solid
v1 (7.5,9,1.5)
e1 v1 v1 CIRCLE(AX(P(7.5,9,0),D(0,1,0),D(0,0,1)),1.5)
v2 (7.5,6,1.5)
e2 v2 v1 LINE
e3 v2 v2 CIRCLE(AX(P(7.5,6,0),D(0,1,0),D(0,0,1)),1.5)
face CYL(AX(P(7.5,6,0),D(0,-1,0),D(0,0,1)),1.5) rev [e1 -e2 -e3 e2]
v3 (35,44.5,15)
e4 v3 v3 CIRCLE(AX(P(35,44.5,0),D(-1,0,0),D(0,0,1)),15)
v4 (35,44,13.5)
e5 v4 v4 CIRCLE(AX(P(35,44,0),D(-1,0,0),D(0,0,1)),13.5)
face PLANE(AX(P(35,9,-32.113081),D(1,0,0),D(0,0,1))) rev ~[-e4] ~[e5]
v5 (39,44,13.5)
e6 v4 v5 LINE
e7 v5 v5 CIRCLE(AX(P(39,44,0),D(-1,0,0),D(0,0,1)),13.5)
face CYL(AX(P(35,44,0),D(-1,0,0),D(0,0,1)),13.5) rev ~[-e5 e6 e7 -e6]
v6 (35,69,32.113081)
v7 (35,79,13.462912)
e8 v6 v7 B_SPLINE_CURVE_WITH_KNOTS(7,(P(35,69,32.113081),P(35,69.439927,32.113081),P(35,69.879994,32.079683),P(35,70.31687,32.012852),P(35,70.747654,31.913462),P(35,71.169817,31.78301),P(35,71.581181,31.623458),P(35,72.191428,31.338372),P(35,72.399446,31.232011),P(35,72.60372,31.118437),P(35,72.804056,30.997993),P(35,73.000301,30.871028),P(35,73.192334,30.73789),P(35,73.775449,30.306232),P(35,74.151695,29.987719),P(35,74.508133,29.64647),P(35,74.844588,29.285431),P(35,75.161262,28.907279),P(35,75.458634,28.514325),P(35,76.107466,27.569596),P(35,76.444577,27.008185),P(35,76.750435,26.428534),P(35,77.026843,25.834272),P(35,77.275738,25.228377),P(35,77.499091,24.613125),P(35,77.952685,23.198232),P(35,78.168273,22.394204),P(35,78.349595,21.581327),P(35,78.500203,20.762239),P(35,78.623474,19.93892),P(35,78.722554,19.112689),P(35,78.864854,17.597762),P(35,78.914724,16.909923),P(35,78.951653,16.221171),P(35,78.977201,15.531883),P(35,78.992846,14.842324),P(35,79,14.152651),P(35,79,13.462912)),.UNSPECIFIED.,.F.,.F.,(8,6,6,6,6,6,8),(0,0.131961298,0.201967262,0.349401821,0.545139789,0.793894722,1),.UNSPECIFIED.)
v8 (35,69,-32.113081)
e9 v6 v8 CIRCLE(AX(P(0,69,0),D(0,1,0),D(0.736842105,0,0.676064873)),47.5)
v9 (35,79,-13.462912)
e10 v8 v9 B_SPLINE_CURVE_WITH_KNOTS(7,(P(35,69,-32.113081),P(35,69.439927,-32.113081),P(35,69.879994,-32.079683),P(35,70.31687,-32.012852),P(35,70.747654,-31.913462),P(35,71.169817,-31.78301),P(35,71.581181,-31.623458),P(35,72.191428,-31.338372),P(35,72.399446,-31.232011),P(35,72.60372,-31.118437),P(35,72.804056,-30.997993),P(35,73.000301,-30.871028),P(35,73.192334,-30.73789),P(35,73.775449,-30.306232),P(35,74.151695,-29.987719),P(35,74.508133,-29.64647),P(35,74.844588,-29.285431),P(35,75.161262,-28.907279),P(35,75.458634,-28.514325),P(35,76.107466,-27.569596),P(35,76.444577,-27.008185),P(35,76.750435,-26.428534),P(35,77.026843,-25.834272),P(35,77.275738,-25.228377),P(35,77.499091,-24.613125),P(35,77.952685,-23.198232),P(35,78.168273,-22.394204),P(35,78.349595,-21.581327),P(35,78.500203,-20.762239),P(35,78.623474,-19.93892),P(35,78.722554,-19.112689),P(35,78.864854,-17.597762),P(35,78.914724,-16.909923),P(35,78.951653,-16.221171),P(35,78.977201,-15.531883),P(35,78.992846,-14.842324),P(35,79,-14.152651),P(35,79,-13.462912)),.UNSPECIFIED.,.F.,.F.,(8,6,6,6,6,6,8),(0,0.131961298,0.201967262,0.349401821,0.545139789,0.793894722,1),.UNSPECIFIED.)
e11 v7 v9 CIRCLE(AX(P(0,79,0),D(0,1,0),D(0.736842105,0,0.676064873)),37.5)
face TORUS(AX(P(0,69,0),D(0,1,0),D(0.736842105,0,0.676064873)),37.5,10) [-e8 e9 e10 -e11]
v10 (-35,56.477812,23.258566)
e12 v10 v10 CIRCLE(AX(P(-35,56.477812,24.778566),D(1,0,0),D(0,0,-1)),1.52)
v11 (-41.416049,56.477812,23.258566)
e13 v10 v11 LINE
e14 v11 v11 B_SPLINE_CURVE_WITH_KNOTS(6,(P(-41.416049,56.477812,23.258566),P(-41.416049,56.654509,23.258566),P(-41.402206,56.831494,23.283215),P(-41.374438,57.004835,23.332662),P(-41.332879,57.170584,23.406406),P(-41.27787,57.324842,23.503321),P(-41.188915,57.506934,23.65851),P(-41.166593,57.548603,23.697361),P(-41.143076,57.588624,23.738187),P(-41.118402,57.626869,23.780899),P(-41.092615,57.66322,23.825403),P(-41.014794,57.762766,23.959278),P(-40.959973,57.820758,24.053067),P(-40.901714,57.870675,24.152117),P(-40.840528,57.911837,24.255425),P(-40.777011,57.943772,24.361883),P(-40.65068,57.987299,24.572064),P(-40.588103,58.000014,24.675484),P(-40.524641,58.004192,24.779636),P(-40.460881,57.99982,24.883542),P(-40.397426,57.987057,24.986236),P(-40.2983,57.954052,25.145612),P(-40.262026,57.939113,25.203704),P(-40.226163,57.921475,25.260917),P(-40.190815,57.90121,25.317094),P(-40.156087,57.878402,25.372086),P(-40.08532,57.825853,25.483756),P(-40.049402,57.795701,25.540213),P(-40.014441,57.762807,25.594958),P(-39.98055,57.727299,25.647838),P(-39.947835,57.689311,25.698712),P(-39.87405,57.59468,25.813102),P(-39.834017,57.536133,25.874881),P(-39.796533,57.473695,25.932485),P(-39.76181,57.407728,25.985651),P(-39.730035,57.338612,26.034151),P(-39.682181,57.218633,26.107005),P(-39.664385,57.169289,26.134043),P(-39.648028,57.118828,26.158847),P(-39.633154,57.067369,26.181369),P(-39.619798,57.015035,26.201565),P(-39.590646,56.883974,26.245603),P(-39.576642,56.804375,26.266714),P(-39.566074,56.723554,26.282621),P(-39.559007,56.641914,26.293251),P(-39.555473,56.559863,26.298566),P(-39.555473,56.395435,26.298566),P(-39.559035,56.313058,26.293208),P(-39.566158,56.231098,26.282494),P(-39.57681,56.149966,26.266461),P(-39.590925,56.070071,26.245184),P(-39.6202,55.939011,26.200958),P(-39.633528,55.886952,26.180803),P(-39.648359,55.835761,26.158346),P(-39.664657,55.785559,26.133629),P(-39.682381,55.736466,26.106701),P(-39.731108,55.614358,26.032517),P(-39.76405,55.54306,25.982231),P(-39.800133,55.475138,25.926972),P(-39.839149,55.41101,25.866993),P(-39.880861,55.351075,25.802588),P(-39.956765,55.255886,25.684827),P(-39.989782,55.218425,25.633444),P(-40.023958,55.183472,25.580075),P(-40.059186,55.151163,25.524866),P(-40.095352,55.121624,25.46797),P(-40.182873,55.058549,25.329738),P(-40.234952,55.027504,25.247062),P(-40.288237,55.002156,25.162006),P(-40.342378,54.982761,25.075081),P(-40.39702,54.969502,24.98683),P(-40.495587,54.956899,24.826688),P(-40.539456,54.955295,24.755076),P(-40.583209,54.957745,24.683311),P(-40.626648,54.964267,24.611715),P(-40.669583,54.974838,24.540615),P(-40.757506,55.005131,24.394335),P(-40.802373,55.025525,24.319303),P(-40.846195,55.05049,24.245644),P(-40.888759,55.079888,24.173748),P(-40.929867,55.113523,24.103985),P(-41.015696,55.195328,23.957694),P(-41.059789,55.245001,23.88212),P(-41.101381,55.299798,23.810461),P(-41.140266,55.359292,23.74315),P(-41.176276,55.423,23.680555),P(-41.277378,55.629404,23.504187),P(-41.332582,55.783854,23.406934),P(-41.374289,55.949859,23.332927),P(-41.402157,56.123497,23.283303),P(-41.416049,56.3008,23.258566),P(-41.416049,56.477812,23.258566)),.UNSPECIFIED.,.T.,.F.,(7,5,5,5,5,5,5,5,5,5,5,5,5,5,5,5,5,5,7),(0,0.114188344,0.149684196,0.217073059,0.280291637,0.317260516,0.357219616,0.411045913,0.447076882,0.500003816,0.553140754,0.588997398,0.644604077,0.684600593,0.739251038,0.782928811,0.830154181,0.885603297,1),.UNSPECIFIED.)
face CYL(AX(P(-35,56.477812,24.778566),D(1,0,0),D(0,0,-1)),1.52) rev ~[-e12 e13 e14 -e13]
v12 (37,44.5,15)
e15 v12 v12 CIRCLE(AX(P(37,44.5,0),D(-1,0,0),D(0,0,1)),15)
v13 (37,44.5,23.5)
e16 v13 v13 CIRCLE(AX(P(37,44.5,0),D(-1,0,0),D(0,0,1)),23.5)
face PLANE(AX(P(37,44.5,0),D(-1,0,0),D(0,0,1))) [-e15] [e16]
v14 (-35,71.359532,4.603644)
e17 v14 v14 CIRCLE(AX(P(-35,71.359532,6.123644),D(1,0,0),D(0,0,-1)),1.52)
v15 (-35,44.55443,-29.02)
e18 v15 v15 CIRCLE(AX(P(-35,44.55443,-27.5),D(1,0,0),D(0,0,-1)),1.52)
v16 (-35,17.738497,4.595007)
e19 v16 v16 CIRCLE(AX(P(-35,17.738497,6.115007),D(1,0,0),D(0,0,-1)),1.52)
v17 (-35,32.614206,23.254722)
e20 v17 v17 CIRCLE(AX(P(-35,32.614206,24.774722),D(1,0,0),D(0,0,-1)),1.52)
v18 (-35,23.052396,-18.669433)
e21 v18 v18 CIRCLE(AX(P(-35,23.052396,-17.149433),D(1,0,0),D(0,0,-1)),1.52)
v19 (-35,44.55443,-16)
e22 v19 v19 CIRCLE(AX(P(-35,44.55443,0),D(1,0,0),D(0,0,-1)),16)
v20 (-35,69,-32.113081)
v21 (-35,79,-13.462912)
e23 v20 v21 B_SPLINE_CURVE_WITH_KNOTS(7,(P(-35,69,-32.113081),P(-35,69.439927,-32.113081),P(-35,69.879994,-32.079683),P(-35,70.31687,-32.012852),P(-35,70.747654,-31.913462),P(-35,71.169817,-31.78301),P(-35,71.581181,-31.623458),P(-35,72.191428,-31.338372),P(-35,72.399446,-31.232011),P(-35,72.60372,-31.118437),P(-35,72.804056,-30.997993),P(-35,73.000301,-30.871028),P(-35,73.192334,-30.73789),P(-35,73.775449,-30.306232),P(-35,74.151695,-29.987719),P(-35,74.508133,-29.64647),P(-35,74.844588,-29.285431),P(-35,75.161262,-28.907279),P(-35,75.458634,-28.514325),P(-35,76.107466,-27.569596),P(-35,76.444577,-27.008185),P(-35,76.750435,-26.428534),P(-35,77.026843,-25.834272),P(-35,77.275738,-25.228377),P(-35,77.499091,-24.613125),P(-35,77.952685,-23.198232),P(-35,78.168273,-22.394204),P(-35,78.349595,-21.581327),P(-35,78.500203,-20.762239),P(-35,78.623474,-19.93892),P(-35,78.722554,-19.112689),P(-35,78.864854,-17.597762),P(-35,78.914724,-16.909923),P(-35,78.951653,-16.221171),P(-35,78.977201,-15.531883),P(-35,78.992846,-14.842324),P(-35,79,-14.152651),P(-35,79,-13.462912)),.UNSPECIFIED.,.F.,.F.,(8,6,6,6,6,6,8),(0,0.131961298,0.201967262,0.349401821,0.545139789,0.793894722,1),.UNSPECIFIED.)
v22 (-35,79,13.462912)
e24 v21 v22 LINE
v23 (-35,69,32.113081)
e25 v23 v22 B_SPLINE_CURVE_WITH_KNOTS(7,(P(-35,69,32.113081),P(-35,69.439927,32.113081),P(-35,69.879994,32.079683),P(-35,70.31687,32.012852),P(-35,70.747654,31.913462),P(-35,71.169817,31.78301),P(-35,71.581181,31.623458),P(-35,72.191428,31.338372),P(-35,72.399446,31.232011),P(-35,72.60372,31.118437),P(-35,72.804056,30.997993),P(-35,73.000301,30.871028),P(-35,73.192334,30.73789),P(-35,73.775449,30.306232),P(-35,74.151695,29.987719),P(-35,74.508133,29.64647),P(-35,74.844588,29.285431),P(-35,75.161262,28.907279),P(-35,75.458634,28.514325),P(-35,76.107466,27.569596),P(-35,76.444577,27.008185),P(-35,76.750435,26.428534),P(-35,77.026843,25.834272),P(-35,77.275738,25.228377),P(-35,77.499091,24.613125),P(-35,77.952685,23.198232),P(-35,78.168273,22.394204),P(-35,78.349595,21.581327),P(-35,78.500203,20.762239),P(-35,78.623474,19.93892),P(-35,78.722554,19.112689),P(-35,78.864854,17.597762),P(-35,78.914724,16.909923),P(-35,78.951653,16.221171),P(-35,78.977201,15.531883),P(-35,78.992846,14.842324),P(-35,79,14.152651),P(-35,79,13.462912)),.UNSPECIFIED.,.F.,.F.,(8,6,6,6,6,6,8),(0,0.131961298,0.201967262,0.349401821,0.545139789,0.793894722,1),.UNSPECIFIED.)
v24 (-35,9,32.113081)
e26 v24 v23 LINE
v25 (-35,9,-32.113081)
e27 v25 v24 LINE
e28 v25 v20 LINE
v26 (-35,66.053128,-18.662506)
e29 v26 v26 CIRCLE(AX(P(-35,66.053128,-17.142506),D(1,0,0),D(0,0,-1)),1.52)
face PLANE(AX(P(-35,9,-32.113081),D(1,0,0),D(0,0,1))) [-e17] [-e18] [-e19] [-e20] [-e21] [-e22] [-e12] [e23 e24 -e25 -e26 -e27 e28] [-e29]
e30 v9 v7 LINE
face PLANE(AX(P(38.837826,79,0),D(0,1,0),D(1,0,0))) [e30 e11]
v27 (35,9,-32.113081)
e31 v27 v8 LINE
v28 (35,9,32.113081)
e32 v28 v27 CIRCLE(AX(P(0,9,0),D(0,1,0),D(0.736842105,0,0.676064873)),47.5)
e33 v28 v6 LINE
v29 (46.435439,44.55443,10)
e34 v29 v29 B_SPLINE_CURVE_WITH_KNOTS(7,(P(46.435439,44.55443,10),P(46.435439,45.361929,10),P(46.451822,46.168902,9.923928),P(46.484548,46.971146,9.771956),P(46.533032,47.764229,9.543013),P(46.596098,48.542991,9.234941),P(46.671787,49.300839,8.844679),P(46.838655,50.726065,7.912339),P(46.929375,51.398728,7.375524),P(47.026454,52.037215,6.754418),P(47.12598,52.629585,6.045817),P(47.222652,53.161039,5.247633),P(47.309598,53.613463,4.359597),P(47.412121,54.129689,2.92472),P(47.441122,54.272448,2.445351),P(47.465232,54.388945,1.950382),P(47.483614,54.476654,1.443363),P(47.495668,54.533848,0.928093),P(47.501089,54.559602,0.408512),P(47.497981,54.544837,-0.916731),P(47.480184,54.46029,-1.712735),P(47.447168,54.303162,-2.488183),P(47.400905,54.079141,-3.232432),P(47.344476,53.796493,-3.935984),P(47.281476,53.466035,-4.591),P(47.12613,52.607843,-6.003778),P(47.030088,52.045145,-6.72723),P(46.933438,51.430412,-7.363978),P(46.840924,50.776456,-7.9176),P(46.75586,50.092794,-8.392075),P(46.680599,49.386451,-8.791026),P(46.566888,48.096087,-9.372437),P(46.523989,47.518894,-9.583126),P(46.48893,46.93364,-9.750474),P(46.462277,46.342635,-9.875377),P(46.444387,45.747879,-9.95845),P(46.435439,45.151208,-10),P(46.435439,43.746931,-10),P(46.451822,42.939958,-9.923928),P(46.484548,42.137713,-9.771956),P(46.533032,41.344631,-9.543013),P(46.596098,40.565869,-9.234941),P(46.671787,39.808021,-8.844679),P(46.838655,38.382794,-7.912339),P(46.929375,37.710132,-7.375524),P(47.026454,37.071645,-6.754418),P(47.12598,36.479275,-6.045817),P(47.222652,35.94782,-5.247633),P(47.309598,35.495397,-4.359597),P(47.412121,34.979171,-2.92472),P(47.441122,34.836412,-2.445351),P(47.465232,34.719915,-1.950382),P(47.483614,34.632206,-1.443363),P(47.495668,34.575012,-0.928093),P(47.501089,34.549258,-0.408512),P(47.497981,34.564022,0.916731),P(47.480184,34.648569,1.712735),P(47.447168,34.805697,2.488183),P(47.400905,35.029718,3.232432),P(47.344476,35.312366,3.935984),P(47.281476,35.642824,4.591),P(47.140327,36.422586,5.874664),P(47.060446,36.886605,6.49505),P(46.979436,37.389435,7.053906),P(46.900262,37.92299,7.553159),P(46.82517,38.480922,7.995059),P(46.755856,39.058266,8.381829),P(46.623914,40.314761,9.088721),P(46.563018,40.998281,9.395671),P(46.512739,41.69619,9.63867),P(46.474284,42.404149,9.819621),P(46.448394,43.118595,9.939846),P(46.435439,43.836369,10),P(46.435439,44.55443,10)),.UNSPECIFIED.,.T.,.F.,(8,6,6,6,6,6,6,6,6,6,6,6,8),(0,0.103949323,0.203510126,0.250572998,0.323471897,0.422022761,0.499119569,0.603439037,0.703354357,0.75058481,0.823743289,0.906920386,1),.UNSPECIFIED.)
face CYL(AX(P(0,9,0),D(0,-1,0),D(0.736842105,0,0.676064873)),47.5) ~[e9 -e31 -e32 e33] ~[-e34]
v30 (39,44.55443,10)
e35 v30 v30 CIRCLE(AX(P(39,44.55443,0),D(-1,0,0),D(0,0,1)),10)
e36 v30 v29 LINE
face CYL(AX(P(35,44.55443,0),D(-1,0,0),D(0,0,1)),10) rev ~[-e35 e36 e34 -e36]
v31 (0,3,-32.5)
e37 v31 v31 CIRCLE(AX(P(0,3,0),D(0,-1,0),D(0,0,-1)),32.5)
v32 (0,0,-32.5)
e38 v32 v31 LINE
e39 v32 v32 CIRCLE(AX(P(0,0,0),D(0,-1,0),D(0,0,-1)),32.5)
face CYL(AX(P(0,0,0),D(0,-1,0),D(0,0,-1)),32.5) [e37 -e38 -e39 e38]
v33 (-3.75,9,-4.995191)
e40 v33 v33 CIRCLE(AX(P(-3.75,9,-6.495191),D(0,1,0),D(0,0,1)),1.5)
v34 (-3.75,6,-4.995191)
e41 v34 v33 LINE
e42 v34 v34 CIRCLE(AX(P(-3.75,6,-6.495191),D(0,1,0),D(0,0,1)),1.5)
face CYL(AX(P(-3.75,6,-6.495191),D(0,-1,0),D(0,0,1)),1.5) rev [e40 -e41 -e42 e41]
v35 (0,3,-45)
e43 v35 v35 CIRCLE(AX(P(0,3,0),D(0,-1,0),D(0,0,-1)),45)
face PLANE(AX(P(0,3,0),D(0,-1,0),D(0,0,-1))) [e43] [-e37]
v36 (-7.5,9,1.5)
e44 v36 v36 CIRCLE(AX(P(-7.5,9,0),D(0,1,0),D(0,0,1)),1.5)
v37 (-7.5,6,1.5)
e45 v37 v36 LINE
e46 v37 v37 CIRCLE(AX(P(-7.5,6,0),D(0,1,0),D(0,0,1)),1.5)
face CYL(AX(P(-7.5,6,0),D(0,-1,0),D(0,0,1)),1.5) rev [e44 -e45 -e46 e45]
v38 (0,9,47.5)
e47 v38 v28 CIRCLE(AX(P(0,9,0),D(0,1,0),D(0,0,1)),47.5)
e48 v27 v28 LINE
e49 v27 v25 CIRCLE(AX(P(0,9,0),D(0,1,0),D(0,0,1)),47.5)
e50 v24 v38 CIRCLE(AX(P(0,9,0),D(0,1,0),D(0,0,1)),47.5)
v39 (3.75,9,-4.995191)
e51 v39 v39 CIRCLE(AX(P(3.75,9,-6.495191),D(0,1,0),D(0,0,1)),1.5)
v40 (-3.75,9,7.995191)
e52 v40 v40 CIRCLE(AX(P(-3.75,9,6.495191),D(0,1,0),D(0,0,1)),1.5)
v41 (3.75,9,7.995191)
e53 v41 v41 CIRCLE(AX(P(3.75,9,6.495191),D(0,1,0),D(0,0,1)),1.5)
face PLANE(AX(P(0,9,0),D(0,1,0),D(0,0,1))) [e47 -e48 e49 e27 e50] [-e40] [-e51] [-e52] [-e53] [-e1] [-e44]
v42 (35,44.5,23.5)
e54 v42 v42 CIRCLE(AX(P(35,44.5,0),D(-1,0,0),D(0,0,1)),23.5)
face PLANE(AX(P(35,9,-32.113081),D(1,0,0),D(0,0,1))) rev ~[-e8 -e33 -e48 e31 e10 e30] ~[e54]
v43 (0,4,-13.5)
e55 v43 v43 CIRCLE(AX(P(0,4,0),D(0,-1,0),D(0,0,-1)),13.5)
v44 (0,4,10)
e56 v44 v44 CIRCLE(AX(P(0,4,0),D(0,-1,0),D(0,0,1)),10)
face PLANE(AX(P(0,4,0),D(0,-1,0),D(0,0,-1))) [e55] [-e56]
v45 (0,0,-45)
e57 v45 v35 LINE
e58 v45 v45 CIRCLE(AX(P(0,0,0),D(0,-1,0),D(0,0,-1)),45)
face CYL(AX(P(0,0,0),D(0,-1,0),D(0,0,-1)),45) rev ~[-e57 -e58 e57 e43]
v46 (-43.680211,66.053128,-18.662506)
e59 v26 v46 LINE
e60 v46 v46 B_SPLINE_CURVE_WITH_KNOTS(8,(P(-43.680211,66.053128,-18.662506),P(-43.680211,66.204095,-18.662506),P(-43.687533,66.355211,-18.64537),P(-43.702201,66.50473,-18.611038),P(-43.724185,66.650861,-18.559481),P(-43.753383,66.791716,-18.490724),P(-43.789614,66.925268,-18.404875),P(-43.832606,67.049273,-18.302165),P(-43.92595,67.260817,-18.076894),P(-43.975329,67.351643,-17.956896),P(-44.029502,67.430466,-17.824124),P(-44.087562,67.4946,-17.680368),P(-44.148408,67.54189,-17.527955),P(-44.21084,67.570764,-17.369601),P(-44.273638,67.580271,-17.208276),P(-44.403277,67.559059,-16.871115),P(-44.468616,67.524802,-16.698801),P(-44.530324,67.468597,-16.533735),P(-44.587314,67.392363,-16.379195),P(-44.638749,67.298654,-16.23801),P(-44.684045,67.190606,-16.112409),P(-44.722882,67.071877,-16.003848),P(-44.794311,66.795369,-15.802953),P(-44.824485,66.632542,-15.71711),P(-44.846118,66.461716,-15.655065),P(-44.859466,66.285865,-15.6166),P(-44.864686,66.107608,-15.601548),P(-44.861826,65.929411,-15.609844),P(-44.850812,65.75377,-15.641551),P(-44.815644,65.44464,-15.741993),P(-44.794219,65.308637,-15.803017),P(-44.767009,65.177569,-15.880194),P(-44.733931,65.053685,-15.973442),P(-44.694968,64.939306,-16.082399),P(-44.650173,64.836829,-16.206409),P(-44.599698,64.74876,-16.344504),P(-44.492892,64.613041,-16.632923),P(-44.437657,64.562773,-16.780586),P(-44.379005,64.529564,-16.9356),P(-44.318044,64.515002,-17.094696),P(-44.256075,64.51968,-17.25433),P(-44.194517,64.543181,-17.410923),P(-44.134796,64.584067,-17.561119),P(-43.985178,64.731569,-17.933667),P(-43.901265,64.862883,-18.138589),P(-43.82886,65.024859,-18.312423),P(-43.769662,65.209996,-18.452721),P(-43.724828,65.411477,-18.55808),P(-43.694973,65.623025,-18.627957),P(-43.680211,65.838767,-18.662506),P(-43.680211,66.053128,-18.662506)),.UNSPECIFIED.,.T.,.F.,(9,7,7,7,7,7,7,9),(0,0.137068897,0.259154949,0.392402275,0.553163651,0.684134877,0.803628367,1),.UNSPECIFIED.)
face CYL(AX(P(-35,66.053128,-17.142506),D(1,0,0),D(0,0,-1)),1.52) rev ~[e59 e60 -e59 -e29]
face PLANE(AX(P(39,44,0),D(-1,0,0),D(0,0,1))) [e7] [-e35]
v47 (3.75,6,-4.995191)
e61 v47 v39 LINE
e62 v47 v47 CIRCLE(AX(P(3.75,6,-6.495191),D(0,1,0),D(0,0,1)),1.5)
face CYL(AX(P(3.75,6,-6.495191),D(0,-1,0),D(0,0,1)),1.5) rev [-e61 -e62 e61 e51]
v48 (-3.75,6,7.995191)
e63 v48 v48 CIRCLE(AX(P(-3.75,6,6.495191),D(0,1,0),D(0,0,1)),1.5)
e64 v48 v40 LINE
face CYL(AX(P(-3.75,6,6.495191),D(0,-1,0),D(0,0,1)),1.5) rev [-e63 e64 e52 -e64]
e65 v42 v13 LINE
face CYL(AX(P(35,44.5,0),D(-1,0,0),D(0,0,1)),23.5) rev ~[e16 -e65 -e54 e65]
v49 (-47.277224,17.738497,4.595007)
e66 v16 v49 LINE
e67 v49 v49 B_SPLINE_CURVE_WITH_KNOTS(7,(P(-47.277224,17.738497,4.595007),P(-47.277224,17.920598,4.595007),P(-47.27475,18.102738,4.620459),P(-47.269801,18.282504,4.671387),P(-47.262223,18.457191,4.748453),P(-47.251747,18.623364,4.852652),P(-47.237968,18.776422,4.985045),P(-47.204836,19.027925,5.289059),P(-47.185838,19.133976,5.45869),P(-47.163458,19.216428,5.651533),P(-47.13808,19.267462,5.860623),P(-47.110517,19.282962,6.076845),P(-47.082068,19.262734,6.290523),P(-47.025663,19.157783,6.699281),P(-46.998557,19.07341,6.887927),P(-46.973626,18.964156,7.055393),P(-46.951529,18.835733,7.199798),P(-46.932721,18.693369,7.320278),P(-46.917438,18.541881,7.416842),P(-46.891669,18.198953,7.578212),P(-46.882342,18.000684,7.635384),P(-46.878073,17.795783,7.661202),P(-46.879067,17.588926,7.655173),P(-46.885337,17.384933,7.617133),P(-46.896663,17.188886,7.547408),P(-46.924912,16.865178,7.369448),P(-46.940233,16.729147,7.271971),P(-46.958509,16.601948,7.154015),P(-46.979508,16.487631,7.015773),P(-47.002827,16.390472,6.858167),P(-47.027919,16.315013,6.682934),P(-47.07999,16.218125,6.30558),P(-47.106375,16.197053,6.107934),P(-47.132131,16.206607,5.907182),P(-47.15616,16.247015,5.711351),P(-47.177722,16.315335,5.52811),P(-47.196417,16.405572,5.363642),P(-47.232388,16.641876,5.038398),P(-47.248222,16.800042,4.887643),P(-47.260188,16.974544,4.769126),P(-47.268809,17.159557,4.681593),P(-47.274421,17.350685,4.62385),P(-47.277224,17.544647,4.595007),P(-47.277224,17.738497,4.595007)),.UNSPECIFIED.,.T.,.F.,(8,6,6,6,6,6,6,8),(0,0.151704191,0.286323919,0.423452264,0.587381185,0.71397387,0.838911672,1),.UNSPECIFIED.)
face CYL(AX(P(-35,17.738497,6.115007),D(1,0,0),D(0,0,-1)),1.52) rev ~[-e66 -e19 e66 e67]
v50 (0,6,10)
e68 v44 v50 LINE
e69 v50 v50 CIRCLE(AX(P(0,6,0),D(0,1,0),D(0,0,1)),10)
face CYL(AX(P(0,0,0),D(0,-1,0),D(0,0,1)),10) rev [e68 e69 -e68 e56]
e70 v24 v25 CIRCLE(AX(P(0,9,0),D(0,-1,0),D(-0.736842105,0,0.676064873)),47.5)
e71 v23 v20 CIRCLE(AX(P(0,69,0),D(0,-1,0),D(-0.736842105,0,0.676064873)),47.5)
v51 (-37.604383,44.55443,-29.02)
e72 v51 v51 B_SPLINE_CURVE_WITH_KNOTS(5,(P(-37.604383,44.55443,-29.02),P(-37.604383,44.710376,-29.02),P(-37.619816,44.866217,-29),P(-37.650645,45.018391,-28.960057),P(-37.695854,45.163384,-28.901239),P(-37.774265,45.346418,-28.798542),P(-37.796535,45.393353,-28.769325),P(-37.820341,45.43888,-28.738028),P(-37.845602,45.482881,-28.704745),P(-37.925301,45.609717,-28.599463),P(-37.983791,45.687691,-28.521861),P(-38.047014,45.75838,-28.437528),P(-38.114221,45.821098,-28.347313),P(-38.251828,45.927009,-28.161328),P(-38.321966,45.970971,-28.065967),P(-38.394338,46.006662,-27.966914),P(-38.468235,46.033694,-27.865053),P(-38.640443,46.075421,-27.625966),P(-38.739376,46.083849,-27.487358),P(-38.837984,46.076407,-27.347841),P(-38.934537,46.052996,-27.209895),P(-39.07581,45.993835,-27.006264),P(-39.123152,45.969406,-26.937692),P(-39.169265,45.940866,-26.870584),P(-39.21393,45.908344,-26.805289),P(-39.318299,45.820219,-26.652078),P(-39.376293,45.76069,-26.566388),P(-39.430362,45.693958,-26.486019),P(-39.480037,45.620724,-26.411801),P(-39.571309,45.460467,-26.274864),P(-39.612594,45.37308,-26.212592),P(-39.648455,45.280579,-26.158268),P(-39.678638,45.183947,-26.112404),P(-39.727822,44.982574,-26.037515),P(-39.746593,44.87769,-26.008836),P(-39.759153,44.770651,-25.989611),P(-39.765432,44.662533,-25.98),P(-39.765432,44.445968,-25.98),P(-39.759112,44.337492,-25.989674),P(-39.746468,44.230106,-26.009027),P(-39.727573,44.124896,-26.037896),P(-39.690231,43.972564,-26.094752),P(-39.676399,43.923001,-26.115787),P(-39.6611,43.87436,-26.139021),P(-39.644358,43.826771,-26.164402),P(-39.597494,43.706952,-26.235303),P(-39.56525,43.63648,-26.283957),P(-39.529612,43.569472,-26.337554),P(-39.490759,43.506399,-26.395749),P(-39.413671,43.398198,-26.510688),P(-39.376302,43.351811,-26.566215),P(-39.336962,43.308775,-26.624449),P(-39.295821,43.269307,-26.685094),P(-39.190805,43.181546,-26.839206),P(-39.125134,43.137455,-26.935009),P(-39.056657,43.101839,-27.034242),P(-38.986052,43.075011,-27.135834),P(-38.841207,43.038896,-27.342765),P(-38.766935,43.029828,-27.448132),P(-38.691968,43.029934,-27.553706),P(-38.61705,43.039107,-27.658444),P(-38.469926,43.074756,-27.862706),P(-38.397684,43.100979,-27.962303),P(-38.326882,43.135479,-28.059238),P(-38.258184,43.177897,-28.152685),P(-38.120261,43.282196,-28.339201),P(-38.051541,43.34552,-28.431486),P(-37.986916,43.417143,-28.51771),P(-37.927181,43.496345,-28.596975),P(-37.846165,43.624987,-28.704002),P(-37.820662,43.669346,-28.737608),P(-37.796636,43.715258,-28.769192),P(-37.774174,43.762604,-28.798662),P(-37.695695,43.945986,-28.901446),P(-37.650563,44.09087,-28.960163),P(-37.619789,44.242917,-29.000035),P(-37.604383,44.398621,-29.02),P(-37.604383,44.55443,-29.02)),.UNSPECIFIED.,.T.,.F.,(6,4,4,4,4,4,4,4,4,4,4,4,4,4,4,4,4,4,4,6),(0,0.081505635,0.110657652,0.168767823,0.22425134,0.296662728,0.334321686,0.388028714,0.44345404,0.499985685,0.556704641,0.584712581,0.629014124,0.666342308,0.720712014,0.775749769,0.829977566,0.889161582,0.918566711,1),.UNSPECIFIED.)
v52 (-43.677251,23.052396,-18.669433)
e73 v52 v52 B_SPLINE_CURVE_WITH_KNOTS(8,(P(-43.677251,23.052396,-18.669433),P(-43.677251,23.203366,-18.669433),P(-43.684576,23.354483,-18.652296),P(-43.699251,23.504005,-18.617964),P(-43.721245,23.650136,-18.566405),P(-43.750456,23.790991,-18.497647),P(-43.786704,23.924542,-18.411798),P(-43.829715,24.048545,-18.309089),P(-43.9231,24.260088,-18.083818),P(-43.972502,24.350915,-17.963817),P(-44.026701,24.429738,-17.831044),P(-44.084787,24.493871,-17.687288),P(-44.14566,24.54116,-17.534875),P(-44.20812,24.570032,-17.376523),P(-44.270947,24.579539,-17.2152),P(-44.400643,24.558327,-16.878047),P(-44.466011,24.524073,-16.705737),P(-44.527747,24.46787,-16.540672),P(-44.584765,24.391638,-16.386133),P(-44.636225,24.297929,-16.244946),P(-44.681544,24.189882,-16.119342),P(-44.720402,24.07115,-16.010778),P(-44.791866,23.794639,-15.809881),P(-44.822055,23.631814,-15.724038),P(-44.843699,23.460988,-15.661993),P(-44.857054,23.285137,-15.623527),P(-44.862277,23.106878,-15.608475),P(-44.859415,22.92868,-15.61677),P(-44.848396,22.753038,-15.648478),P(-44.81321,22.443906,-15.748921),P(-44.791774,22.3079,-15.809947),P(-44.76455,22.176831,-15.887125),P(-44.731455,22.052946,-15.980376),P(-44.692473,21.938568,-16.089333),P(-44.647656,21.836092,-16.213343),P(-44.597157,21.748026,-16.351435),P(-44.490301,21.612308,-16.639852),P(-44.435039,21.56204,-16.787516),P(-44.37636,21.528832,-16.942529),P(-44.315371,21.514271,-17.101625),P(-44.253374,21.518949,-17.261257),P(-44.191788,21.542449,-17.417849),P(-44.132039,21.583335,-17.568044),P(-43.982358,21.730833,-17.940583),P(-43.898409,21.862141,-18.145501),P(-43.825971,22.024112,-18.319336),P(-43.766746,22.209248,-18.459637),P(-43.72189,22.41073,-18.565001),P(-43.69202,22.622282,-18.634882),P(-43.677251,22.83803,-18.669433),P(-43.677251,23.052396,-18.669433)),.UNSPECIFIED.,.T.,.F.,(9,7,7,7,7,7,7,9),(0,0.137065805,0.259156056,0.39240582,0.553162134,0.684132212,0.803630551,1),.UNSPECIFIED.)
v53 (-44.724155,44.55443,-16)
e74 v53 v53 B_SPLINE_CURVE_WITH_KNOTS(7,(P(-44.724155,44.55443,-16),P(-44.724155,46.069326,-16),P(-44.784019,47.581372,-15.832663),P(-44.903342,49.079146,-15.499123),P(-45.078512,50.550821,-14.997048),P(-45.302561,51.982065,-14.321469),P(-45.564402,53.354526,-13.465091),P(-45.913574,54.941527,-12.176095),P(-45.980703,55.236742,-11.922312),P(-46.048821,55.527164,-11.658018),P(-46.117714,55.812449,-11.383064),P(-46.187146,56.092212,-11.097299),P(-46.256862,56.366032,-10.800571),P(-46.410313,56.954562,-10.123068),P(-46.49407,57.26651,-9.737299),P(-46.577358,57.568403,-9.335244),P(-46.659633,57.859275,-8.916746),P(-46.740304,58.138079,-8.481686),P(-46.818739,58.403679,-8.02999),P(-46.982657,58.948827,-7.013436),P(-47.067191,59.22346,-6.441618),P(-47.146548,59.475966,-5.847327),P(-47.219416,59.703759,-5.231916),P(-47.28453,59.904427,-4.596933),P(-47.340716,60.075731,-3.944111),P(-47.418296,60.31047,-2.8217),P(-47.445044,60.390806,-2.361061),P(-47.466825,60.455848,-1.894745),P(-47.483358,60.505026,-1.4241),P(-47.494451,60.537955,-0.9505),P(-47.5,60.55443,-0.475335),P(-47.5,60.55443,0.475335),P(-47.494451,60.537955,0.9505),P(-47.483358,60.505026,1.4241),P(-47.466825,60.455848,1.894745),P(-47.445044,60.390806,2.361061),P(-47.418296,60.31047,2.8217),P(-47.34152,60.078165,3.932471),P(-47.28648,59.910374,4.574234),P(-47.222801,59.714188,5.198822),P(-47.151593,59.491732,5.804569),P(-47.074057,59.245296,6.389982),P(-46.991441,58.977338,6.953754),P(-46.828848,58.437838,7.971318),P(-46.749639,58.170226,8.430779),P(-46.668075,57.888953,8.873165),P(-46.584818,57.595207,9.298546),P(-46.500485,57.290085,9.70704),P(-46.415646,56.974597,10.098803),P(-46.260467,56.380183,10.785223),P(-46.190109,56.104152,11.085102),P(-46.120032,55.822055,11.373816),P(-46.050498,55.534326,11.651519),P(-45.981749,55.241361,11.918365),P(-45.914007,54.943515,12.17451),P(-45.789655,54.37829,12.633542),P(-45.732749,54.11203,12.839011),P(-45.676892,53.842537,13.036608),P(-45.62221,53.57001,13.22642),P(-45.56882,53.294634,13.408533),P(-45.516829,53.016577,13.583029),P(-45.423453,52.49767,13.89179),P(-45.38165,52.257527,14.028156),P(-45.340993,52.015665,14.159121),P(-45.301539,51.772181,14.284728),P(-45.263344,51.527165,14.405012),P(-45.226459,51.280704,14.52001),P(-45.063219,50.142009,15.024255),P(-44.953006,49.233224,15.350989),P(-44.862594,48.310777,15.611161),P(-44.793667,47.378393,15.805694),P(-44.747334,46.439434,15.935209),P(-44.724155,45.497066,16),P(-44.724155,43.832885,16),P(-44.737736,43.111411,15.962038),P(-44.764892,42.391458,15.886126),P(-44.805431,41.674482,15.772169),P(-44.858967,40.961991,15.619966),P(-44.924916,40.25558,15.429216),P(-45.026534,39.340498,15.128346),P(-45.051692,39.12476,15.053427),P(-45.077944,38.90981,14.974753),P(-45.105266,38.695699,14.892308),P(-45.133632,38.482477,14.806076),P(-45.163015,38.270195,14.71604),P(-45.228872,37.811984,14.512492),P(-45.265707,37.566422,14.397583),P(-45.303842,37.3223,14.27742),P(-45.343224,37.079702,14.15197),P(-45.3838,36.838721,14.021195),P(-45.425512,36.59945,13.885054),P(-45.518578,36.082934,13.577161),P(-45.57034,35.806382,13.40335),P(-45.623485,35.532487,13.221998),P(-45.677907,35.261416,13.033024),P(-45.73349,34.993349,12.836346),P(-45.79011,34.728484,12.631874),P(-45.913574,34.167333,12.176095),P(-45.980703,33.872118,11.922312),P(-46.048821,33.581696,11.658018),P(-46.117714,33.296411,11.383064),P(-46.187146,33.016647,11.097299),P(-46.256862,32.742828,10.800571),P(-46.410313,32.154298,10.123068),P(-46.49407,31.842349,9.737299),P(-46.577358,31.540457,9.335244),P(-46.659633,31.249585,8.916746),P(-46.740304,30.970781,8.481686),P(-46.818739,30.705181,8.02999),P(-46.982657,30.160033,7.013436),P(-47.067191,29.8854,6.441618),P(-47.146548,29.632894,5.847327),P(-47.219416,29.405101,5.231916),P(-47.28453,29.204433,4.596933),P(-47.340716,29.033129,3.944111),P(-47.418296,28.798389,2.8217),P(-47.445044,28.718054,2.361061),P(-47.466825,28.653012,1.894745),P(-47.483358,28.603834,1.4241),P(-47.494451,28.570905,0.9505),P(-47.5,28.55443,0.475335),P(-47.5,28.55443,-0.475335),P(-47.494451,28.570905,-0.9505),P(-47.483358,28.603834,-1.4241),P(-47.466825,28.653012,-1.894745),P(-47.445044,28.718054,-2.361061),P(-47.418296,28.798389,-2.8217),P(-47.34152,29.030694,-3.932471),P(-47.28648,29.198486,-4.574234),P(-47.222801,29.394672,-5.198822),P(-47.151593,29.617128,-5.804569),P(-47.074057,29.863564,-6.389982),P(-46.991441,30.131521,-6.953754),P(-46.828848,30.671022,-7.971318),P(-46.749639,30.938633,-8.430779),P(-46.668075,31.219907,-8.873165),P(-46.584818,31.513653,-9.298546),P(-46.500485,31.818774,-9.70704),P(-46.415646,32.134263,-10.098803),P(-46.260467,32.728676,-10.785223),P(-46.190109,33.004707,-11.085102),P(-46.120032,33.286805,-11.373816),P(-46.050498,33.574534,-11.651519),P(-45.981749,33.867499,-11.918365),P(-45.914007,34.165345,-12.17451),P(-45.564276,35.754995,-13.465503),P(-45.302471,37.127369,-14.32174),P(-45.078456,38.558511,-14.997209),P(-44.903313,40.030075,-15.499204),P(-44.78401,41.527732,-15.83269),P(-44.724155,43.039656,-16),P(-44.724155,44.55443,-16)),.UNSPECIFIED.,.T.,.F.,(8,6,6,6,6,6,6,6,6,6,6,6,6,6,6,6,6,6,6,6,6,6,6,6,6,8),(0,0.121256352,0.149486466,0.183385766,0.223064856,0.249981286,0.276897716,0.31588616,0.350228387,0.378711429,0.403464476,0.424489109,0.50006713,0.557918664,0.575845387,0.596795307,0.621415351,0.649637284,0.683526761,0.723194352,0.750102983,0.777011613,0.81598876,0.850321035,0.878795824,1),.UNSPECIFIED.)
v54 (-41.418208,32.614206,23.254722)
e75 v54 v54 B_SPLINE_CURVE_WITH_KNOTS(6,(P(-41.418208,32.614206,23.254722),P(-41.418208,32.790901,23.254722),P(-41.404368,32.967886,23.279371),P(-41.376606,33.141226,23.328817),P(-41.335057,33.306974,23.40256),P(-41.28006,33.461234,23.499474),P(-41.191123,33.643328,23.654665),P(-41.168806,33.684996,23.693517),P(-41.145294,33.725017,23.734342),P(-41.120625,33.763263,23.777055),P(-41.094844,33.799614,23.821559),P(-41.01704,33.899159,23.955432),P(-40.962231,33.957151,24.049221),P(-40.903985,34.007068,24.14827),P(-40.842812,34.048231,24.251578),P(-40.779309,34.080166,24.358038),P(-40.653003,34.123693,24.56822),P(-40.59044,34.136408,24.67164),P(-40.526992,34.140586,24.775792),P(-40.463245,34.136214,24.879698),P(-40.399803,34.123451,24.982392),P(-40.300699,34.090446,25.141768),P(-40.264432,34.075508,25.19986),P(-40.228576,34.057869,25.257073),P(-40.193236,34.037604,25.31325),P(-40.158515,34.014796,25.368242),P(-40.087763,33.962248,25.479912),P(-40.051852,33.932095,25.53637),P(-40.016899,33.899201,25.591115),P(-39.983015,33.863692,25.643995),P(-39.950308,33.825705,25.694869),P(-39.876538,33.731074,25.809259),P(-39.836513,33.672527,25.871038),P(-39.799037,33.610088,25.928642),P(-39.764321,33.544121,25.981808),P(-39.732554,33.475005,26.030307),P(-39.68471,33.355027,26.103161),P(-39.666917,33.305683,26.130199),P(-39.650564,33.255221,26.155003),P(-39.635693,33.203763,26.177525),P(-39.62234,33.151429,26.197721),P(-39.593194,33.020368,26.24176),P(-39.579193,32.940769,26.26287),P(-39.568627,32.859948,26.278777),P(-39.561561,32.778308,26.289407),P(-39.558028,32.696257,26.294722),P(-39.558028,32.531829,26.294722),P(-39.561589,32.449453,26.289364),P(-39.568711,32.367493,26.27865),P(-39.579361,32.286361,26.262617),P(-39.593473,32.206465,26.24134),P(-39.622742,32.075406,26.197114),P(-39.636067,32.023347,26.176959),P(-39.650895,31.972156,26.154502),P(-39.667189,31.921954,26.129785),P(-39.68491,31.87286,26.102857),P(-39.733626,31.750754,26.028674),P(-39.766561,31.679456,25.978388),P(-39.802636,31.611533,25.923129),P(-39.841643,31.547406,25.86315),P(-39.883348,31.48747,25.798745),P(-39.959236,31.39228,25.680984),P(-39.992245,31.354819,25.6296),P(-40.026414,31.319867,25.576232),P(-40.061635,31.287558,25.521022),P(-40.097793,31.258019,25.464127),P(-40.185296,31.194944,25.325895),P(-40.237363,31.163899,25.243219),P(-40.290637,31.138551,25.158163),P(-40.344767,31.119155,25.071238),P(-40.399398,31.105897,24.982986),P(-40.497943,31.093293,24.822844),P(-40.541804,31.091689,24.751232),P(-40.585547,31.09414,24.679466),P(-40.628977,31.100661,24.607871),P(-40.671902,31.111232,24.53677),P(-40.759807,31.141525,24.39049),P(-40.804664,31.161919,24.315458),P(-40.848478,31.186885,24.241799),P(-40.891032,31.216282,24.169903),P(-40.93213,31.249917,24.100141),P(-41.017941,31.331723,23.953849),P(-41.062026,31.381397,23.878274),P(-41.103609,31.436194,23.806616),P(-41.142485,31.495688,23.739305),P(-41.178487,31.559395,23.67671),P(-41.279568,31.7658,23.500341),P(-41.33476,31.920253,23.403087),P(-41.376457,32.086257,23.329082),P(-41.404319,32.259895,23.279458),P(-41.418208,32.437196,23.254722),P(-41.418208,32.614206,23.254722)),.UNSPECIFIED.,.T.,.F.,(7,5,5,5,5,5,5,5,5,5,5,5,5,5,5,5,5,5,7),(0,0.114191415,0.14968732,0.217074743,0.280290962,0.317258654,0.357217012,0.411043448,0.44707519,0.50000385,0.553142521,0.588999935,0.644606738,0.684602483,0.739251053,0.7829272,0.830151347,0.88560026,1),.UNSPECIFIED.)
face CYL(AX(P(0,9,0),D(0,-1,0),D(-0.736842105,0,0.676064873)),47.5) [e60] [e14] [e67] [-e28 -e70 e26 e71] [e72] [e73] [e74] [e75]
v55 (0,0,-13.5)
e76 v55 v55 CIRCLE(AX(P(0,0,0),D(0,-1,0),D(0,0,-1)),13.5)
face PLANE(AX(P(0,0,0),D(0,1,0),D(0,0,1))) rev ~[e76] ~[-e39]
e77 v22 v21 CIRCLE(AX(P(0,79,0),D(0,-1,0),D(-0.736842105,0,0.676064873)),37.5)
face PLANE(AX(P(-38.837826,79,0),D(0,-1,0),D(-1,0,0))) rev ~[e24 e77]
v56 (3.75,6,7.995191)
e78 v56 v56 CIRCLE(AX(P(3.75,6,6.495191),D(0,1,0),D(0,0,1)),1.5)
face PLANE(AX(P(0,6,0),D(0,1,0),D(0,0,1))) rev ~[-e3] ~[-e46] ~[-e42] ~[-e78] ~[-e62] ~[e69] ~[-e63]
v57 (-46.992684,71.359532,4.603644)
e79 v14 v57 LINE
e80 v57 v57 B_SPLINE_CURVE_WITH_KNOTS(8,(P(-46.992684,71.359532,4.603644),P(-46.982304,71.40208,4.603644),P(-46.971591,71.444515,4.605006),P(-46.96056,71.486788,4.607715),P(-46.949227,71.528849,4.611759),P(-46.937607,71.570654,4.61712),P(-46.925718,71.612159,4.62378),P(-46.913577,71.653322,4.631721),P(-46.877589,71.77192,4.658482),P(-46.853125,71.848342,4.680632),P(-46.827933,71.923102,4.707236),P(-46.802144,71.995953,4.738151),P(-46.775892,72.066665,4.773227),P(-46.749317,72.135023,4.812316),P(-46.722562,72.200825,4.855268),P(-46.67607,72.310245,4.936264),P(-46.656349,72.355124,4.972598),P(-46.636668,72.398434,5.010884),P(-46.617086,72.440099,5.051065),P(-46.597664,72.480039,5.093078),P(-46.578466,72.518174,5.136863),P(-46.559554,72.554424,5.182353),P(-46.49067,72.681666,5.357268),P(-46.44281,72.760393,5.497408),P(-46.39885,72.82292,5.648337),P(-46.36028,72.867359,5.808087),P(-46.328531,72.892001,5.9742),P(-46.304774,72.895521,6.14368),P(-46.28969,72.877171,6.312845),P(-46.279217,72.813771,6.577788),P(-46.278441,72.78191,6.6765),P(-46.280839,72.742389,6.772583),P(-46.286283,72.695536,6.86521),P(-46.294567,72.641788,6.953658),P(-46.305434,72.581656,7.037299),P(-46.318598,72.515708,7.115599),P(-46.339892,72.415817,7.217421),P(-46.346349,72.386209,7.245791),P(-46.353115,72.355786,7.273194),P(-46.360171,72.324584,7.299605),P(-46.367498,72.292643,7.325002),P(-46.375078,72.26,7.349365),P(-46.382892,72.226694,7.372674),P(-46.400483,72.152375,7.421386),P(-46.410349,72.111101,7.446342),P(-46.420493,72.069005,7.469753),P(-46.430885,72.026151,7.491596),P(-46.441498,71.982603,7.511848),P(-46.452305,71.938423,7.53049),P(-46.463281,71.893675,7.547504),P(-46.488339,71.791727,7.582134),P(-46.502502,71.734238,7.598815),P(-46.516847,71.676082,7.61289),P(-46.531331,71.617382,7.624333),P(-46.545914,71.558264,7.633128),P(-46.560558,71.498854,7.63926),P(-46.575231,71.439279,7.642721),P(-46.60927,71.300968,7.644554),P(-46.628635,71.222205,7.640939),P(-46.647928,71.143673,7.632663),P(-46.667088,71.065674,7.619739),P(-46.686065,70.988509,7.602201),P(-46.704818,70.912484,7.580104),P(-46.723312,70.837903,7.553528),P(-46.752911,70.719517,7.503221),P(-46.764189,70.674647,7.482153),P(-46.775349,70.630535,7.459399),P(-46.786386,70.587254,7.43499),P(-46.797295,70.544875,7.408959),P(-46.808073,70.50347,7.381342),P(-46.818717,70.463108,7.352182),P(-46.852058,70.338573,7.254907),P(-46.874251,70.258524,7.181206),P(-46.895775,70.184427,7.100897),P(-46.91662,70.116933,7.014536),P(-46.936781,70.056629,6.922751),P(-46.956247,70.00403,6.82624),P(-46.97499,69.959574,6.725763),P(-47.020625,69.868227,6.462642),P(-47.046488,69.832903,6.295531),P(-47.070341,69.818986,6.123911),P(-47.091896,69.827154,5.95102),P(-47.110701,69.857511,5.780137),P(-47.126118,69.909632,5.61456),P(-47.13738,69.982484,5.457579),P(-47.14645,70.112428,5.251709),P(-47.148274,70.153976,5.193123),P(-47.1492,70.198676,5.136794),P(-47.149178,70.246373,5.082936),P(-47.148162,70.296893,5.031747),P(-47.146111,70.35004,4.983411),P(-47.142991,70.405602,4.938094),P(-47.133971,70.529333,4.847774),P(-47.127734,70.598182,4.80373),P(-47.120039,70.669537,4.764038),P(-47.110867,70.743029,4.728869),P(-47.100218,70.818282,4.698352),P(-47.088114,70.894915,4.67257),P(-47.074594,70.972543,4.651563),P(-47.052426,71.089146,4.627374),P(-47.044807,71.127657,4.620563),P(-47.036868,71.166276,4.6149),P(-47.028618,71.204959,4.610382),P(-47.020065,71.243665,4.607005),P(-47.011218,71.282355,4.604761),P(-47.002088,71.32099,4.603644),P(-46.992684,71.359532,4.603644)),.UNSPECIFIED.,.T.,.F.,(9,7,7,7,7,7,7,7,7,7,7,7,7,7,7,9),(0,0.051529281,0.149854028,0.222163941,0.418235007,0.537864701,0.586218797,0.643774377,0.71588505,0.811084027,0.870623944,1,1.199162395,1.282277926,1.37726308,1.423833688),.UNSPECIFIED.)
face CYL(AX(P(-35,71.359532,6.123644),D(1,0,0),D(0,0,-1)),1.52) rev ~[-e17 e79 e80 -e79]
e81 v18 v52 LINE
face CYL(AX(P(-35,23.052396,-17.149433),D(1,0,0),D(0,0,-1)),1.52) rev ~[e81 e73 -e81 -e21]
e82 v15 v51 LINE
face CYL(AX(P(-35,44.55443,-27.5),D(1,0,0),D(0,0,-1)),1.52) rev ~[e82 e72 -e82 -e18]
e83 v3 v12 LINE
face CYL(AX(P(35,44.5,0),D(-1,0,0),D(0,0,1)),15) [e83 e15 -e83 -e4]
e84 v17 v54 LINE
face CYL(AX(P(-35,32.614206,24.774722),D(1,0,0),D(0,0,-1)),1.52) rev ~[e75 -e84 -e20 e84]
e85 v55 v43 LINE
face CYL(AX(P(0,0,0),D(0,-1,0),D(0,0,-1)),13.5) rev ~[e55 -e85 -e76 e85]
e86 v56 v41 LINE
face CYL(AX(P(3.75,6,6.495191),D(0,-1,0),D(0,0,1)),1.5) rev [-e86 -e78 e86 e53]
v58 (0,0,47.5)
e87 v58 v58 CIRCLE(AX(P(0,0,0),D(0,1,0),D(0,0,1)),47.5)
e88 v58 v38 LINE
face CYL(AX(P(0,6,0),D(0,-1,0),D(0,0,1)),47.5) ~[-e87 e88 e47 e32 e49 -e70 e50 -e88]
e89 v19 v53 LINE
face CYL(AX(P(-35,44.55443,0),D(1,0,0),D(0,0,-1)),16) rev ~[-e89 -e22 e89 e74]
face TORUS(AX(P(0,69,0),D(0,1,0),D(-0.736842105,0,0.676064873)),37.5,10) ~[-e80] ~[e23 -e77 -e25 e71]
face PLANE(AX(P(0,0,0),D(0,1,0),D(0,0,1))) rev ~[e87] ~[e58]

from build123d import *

# Parameters (mm, degrees)
CROQUIS1_R              = 47.5
CROQUIS1_R_2            = 10
SALIENTE_EXTRUIR1_DEPTH = 6
CROQUIS2_R              = 47.5
CROQUIS2_R_2            = 1.5
SALIENTE_EXTRUIR2_DEPTH = 3
CROQUIS3_R              = 45
CROQUIS3_R_2            = 32.5
CORTAR_EXTRUIR1_DEPTH   = 3
CROQUIS4_R              = 13.5
CORTAR_EXTRUIR2_DEPTH   = 4
SALIENTE_EXTRUIR4_DEPTH = 70
REDONDEO1_R             = 10
CROQUIS6_R              = 13.5
CORTAR_EXTRUIR3_DEPTH   = 4
CROQUIS7_R              = 10
CORTAR_EXTRUIR4_DEPTH   = 124.707316002
CROQUIS8_R              = 23.5
CROQUIS8_R_2            = 15
CORTAR_EXTRUIR5_DEPTH   = 2
CROQUIS10_R             = 16
CORTAR_EXTRUIR6_DEPTH   = 124.707316002
CROQUIS12_R             = 1.52
CORTAR_EXTRUIR8_DEPTH   = 124.707316002


with BuildPart() as part:
    # Croquis1 → Saliente-Extruir1 (new body)
    with BuildSketch(Plane(origin=(0, 0, 0), x_dir=(1, 0, 0), z_dir=(0, 1, 0))):
        with Locations(Location((0, 0, 0), (0, 0, 270))):
            Circle(CROQUIS1_R)
        with Locations(Location((0, 0, 0), (0, 0, 270))):
            Circle(CROQUIS1_R_2, mode=Mode.SUBTRACT)
    extrude(amount=SALIENTE_EXTRUIR1_DEPTH)

    # Croquis2 → Saliente-Extruir2 (add)
    with BuildSketch(Plane(origin=(0, 6, 0), x_dir=(1, 0, 0), z_dir=(0, 1, 0))):
        with Locations(Location((0, 0, 0), (0, 0, 270))):
            Circle(CROQUIS2_R)
        with Locations(Location((7.5, 0, 0), (0, 0, 270))):
            Circle(CROQUIS2_R_2, mode=Mode.SUBTRACT)
        with Locations(Location((3.75, -6.495190528, 0), (0, 0, 270))):
            Circle(CROQUIS2_R_2, mode=Mode.SUBTRACT)
        with Locations(Location((-3.75, -6.495190528, 0), (0, 0, 270))):
            Circle(CROQUIS2_R_2, mode=Mode.SUBTRACT)
        with Locations(Location((-7.5, 0, 0), (0, 0, 270))):
            Circle(CROQUIS2_R_2, mode=Mode.SUBTRACT)
        with Locations(Location((-3.75, 6.495190528, 0), (0, 0, 270))):
            Circle(CROQUIS2_R_2, mode=Mode.SUBTRACT)
        with Locations(Location((3.75, 6.495190528, 0), (0, 0, 270))):
            Circle(CROQUIS2_R_2, mode=Mode.SUBTRACT)
    extrude(amount=SALIENTE_EXTRUIR2_DEPTH)

    # Croquis3 → Cortar-Extruir1 (cut)
    with BuildSketch(Plane.XZ):
        with Locations(Location((0, 0, 0), (0, 0, 270))):
            Circle(CROQUIS3_R)
        with Locations(Location((0, 0, 0), (0, 0, 270))):
            Circle(CROQUIS3_R_2, mode=Mode.SUBTRACT)
    extrude(amount=-CORTAR_EXTRUIR1_DEPTH, mode=Mode.SUBTRACT)

    # Croquis4 → Cortar-Extruir2 (cut)
    with BuildSketch(Plane.XZ):
        with Locations(Location((0, 0, 0), (0, 0, 270))):
            Circle(CROQUIS4_R)
    extrude(amount=-CORTAR_EXTRUIR2_DEPTH, mode=Mode.SUBTRACT)

    # Croquis5 → Saliente-Extruir4 (add)
    with BuildSketch(Plane(origin=(0, 9, 0), x_dir=(1, 0, 0), z_dir=(0, 1, 0))):
        with BuildLine():
            Line((35, 32.113081447), (35, -32.113081447))
            ThreePointArc((35, -32.113081447), (47.5, 0), (35, 32.113081447))
        make_face()
        with BuildLine():
            Line((-35, 32.113081447), (-35, -32.113081447))
            ThreePointArc((-35, -32.113081447), (-47.5, 0), (-35, 32.113081447))
        make_face()
    extrude(amount=SALIENTE_EXTRUIR4_DEPTH)

    # Redondeo1
    redondeo1_edges = [part.edges().sort_by_distance(p)[0] for p in [
        (47.5, 79, 0),
        (-47.5, 79, 0),
    ]]
    fillet(redondeo1_edges, radius=REDONDEO1_R)

    # Croquis6 → Cortar-Extruir3 (cut)
    with BuildSketch(Plane.ZY.offset(-35)):
        with Locations((0, 44)):
            Circle(CROQUIS6_R)
    extrude(amount=-CORTAR_EXTRUIR3_DEPTH, mode=Mode.SUBTRACT)

    # Croquis7 → Cortar-Extruir4 (cut, through all)
    with BuildSketch(Plane.ZY.offset(-35)):
        with Locations((0, 44.554429855)):
            Circle(CROQUIS7_R)
    extrude(amount=-CORTAR_EXTRUIR4_DEPTH, mode=Mode.SUBTRACT)

    # Croquis8 → Cortar-Extruir5 (cut)
    with BuildSketch(Plane.ZY.offset(-35)):
        with Locations((0, 44.5)):
            Circle(CROQUIS8_R)
        with Locations((0, 44.5)):
            Circle(CROQUIS8_R_2, mode=Mode.SUBTRACT)
    extrude(amount=-CORTAR_EXTRUIR5_DEPTH, mode=Mode.SUBTRACT)

    # Croquis10 → Cortar-Extruir6 (cut, through all)
    with BuildSketch(Plane(origin=(-35, 0, 0), x_dir=(0, 0, -1), z_dir=(1, 0, 0))):
        with Locations((0, 44.554429855)):
            Circle(CROQUIS10_R)
    extrude(amount=-CORTAR_EXTRUIR6_DEPTH, mode=Mode.SUBTRACT)

    # Croquis12 → Cortar-Extruir8 (cut, through all)
    with BuildSketch(Plane(origin=(-35, 0, 0), x_dir=(0, 0, -1), z_dir=(1, 0, 0))):
        with Locations((27.5, 44.554429855)):
            Circle(CROQUIS12_R)
        with Locations((17.149432951, 23.052396202)):
            Circle(CROQUIS12_R)
        with Locations((-6.115006895, 17.73849668)):
            Circle(CROQUIS12_R)
        with Locations((-24.774721825, 32.614206013)):
            Circle(CROQUIS12_R)
        with Locations((-24.778565909, 56.477811664)):
            Circle(CROQUIS12_R)
        with Locations((-6.123644473, 71.35953185)):
            Circle(CROQUIS12_R)
        with Locations((17.142506151, 66.053127737)):
            Circle(CROQUIS12_R)
    extrude(amount=-CORTAR_EXTRUIR8_DEPTH, mode=Mode.SUBTRACT)


solid = part.part
